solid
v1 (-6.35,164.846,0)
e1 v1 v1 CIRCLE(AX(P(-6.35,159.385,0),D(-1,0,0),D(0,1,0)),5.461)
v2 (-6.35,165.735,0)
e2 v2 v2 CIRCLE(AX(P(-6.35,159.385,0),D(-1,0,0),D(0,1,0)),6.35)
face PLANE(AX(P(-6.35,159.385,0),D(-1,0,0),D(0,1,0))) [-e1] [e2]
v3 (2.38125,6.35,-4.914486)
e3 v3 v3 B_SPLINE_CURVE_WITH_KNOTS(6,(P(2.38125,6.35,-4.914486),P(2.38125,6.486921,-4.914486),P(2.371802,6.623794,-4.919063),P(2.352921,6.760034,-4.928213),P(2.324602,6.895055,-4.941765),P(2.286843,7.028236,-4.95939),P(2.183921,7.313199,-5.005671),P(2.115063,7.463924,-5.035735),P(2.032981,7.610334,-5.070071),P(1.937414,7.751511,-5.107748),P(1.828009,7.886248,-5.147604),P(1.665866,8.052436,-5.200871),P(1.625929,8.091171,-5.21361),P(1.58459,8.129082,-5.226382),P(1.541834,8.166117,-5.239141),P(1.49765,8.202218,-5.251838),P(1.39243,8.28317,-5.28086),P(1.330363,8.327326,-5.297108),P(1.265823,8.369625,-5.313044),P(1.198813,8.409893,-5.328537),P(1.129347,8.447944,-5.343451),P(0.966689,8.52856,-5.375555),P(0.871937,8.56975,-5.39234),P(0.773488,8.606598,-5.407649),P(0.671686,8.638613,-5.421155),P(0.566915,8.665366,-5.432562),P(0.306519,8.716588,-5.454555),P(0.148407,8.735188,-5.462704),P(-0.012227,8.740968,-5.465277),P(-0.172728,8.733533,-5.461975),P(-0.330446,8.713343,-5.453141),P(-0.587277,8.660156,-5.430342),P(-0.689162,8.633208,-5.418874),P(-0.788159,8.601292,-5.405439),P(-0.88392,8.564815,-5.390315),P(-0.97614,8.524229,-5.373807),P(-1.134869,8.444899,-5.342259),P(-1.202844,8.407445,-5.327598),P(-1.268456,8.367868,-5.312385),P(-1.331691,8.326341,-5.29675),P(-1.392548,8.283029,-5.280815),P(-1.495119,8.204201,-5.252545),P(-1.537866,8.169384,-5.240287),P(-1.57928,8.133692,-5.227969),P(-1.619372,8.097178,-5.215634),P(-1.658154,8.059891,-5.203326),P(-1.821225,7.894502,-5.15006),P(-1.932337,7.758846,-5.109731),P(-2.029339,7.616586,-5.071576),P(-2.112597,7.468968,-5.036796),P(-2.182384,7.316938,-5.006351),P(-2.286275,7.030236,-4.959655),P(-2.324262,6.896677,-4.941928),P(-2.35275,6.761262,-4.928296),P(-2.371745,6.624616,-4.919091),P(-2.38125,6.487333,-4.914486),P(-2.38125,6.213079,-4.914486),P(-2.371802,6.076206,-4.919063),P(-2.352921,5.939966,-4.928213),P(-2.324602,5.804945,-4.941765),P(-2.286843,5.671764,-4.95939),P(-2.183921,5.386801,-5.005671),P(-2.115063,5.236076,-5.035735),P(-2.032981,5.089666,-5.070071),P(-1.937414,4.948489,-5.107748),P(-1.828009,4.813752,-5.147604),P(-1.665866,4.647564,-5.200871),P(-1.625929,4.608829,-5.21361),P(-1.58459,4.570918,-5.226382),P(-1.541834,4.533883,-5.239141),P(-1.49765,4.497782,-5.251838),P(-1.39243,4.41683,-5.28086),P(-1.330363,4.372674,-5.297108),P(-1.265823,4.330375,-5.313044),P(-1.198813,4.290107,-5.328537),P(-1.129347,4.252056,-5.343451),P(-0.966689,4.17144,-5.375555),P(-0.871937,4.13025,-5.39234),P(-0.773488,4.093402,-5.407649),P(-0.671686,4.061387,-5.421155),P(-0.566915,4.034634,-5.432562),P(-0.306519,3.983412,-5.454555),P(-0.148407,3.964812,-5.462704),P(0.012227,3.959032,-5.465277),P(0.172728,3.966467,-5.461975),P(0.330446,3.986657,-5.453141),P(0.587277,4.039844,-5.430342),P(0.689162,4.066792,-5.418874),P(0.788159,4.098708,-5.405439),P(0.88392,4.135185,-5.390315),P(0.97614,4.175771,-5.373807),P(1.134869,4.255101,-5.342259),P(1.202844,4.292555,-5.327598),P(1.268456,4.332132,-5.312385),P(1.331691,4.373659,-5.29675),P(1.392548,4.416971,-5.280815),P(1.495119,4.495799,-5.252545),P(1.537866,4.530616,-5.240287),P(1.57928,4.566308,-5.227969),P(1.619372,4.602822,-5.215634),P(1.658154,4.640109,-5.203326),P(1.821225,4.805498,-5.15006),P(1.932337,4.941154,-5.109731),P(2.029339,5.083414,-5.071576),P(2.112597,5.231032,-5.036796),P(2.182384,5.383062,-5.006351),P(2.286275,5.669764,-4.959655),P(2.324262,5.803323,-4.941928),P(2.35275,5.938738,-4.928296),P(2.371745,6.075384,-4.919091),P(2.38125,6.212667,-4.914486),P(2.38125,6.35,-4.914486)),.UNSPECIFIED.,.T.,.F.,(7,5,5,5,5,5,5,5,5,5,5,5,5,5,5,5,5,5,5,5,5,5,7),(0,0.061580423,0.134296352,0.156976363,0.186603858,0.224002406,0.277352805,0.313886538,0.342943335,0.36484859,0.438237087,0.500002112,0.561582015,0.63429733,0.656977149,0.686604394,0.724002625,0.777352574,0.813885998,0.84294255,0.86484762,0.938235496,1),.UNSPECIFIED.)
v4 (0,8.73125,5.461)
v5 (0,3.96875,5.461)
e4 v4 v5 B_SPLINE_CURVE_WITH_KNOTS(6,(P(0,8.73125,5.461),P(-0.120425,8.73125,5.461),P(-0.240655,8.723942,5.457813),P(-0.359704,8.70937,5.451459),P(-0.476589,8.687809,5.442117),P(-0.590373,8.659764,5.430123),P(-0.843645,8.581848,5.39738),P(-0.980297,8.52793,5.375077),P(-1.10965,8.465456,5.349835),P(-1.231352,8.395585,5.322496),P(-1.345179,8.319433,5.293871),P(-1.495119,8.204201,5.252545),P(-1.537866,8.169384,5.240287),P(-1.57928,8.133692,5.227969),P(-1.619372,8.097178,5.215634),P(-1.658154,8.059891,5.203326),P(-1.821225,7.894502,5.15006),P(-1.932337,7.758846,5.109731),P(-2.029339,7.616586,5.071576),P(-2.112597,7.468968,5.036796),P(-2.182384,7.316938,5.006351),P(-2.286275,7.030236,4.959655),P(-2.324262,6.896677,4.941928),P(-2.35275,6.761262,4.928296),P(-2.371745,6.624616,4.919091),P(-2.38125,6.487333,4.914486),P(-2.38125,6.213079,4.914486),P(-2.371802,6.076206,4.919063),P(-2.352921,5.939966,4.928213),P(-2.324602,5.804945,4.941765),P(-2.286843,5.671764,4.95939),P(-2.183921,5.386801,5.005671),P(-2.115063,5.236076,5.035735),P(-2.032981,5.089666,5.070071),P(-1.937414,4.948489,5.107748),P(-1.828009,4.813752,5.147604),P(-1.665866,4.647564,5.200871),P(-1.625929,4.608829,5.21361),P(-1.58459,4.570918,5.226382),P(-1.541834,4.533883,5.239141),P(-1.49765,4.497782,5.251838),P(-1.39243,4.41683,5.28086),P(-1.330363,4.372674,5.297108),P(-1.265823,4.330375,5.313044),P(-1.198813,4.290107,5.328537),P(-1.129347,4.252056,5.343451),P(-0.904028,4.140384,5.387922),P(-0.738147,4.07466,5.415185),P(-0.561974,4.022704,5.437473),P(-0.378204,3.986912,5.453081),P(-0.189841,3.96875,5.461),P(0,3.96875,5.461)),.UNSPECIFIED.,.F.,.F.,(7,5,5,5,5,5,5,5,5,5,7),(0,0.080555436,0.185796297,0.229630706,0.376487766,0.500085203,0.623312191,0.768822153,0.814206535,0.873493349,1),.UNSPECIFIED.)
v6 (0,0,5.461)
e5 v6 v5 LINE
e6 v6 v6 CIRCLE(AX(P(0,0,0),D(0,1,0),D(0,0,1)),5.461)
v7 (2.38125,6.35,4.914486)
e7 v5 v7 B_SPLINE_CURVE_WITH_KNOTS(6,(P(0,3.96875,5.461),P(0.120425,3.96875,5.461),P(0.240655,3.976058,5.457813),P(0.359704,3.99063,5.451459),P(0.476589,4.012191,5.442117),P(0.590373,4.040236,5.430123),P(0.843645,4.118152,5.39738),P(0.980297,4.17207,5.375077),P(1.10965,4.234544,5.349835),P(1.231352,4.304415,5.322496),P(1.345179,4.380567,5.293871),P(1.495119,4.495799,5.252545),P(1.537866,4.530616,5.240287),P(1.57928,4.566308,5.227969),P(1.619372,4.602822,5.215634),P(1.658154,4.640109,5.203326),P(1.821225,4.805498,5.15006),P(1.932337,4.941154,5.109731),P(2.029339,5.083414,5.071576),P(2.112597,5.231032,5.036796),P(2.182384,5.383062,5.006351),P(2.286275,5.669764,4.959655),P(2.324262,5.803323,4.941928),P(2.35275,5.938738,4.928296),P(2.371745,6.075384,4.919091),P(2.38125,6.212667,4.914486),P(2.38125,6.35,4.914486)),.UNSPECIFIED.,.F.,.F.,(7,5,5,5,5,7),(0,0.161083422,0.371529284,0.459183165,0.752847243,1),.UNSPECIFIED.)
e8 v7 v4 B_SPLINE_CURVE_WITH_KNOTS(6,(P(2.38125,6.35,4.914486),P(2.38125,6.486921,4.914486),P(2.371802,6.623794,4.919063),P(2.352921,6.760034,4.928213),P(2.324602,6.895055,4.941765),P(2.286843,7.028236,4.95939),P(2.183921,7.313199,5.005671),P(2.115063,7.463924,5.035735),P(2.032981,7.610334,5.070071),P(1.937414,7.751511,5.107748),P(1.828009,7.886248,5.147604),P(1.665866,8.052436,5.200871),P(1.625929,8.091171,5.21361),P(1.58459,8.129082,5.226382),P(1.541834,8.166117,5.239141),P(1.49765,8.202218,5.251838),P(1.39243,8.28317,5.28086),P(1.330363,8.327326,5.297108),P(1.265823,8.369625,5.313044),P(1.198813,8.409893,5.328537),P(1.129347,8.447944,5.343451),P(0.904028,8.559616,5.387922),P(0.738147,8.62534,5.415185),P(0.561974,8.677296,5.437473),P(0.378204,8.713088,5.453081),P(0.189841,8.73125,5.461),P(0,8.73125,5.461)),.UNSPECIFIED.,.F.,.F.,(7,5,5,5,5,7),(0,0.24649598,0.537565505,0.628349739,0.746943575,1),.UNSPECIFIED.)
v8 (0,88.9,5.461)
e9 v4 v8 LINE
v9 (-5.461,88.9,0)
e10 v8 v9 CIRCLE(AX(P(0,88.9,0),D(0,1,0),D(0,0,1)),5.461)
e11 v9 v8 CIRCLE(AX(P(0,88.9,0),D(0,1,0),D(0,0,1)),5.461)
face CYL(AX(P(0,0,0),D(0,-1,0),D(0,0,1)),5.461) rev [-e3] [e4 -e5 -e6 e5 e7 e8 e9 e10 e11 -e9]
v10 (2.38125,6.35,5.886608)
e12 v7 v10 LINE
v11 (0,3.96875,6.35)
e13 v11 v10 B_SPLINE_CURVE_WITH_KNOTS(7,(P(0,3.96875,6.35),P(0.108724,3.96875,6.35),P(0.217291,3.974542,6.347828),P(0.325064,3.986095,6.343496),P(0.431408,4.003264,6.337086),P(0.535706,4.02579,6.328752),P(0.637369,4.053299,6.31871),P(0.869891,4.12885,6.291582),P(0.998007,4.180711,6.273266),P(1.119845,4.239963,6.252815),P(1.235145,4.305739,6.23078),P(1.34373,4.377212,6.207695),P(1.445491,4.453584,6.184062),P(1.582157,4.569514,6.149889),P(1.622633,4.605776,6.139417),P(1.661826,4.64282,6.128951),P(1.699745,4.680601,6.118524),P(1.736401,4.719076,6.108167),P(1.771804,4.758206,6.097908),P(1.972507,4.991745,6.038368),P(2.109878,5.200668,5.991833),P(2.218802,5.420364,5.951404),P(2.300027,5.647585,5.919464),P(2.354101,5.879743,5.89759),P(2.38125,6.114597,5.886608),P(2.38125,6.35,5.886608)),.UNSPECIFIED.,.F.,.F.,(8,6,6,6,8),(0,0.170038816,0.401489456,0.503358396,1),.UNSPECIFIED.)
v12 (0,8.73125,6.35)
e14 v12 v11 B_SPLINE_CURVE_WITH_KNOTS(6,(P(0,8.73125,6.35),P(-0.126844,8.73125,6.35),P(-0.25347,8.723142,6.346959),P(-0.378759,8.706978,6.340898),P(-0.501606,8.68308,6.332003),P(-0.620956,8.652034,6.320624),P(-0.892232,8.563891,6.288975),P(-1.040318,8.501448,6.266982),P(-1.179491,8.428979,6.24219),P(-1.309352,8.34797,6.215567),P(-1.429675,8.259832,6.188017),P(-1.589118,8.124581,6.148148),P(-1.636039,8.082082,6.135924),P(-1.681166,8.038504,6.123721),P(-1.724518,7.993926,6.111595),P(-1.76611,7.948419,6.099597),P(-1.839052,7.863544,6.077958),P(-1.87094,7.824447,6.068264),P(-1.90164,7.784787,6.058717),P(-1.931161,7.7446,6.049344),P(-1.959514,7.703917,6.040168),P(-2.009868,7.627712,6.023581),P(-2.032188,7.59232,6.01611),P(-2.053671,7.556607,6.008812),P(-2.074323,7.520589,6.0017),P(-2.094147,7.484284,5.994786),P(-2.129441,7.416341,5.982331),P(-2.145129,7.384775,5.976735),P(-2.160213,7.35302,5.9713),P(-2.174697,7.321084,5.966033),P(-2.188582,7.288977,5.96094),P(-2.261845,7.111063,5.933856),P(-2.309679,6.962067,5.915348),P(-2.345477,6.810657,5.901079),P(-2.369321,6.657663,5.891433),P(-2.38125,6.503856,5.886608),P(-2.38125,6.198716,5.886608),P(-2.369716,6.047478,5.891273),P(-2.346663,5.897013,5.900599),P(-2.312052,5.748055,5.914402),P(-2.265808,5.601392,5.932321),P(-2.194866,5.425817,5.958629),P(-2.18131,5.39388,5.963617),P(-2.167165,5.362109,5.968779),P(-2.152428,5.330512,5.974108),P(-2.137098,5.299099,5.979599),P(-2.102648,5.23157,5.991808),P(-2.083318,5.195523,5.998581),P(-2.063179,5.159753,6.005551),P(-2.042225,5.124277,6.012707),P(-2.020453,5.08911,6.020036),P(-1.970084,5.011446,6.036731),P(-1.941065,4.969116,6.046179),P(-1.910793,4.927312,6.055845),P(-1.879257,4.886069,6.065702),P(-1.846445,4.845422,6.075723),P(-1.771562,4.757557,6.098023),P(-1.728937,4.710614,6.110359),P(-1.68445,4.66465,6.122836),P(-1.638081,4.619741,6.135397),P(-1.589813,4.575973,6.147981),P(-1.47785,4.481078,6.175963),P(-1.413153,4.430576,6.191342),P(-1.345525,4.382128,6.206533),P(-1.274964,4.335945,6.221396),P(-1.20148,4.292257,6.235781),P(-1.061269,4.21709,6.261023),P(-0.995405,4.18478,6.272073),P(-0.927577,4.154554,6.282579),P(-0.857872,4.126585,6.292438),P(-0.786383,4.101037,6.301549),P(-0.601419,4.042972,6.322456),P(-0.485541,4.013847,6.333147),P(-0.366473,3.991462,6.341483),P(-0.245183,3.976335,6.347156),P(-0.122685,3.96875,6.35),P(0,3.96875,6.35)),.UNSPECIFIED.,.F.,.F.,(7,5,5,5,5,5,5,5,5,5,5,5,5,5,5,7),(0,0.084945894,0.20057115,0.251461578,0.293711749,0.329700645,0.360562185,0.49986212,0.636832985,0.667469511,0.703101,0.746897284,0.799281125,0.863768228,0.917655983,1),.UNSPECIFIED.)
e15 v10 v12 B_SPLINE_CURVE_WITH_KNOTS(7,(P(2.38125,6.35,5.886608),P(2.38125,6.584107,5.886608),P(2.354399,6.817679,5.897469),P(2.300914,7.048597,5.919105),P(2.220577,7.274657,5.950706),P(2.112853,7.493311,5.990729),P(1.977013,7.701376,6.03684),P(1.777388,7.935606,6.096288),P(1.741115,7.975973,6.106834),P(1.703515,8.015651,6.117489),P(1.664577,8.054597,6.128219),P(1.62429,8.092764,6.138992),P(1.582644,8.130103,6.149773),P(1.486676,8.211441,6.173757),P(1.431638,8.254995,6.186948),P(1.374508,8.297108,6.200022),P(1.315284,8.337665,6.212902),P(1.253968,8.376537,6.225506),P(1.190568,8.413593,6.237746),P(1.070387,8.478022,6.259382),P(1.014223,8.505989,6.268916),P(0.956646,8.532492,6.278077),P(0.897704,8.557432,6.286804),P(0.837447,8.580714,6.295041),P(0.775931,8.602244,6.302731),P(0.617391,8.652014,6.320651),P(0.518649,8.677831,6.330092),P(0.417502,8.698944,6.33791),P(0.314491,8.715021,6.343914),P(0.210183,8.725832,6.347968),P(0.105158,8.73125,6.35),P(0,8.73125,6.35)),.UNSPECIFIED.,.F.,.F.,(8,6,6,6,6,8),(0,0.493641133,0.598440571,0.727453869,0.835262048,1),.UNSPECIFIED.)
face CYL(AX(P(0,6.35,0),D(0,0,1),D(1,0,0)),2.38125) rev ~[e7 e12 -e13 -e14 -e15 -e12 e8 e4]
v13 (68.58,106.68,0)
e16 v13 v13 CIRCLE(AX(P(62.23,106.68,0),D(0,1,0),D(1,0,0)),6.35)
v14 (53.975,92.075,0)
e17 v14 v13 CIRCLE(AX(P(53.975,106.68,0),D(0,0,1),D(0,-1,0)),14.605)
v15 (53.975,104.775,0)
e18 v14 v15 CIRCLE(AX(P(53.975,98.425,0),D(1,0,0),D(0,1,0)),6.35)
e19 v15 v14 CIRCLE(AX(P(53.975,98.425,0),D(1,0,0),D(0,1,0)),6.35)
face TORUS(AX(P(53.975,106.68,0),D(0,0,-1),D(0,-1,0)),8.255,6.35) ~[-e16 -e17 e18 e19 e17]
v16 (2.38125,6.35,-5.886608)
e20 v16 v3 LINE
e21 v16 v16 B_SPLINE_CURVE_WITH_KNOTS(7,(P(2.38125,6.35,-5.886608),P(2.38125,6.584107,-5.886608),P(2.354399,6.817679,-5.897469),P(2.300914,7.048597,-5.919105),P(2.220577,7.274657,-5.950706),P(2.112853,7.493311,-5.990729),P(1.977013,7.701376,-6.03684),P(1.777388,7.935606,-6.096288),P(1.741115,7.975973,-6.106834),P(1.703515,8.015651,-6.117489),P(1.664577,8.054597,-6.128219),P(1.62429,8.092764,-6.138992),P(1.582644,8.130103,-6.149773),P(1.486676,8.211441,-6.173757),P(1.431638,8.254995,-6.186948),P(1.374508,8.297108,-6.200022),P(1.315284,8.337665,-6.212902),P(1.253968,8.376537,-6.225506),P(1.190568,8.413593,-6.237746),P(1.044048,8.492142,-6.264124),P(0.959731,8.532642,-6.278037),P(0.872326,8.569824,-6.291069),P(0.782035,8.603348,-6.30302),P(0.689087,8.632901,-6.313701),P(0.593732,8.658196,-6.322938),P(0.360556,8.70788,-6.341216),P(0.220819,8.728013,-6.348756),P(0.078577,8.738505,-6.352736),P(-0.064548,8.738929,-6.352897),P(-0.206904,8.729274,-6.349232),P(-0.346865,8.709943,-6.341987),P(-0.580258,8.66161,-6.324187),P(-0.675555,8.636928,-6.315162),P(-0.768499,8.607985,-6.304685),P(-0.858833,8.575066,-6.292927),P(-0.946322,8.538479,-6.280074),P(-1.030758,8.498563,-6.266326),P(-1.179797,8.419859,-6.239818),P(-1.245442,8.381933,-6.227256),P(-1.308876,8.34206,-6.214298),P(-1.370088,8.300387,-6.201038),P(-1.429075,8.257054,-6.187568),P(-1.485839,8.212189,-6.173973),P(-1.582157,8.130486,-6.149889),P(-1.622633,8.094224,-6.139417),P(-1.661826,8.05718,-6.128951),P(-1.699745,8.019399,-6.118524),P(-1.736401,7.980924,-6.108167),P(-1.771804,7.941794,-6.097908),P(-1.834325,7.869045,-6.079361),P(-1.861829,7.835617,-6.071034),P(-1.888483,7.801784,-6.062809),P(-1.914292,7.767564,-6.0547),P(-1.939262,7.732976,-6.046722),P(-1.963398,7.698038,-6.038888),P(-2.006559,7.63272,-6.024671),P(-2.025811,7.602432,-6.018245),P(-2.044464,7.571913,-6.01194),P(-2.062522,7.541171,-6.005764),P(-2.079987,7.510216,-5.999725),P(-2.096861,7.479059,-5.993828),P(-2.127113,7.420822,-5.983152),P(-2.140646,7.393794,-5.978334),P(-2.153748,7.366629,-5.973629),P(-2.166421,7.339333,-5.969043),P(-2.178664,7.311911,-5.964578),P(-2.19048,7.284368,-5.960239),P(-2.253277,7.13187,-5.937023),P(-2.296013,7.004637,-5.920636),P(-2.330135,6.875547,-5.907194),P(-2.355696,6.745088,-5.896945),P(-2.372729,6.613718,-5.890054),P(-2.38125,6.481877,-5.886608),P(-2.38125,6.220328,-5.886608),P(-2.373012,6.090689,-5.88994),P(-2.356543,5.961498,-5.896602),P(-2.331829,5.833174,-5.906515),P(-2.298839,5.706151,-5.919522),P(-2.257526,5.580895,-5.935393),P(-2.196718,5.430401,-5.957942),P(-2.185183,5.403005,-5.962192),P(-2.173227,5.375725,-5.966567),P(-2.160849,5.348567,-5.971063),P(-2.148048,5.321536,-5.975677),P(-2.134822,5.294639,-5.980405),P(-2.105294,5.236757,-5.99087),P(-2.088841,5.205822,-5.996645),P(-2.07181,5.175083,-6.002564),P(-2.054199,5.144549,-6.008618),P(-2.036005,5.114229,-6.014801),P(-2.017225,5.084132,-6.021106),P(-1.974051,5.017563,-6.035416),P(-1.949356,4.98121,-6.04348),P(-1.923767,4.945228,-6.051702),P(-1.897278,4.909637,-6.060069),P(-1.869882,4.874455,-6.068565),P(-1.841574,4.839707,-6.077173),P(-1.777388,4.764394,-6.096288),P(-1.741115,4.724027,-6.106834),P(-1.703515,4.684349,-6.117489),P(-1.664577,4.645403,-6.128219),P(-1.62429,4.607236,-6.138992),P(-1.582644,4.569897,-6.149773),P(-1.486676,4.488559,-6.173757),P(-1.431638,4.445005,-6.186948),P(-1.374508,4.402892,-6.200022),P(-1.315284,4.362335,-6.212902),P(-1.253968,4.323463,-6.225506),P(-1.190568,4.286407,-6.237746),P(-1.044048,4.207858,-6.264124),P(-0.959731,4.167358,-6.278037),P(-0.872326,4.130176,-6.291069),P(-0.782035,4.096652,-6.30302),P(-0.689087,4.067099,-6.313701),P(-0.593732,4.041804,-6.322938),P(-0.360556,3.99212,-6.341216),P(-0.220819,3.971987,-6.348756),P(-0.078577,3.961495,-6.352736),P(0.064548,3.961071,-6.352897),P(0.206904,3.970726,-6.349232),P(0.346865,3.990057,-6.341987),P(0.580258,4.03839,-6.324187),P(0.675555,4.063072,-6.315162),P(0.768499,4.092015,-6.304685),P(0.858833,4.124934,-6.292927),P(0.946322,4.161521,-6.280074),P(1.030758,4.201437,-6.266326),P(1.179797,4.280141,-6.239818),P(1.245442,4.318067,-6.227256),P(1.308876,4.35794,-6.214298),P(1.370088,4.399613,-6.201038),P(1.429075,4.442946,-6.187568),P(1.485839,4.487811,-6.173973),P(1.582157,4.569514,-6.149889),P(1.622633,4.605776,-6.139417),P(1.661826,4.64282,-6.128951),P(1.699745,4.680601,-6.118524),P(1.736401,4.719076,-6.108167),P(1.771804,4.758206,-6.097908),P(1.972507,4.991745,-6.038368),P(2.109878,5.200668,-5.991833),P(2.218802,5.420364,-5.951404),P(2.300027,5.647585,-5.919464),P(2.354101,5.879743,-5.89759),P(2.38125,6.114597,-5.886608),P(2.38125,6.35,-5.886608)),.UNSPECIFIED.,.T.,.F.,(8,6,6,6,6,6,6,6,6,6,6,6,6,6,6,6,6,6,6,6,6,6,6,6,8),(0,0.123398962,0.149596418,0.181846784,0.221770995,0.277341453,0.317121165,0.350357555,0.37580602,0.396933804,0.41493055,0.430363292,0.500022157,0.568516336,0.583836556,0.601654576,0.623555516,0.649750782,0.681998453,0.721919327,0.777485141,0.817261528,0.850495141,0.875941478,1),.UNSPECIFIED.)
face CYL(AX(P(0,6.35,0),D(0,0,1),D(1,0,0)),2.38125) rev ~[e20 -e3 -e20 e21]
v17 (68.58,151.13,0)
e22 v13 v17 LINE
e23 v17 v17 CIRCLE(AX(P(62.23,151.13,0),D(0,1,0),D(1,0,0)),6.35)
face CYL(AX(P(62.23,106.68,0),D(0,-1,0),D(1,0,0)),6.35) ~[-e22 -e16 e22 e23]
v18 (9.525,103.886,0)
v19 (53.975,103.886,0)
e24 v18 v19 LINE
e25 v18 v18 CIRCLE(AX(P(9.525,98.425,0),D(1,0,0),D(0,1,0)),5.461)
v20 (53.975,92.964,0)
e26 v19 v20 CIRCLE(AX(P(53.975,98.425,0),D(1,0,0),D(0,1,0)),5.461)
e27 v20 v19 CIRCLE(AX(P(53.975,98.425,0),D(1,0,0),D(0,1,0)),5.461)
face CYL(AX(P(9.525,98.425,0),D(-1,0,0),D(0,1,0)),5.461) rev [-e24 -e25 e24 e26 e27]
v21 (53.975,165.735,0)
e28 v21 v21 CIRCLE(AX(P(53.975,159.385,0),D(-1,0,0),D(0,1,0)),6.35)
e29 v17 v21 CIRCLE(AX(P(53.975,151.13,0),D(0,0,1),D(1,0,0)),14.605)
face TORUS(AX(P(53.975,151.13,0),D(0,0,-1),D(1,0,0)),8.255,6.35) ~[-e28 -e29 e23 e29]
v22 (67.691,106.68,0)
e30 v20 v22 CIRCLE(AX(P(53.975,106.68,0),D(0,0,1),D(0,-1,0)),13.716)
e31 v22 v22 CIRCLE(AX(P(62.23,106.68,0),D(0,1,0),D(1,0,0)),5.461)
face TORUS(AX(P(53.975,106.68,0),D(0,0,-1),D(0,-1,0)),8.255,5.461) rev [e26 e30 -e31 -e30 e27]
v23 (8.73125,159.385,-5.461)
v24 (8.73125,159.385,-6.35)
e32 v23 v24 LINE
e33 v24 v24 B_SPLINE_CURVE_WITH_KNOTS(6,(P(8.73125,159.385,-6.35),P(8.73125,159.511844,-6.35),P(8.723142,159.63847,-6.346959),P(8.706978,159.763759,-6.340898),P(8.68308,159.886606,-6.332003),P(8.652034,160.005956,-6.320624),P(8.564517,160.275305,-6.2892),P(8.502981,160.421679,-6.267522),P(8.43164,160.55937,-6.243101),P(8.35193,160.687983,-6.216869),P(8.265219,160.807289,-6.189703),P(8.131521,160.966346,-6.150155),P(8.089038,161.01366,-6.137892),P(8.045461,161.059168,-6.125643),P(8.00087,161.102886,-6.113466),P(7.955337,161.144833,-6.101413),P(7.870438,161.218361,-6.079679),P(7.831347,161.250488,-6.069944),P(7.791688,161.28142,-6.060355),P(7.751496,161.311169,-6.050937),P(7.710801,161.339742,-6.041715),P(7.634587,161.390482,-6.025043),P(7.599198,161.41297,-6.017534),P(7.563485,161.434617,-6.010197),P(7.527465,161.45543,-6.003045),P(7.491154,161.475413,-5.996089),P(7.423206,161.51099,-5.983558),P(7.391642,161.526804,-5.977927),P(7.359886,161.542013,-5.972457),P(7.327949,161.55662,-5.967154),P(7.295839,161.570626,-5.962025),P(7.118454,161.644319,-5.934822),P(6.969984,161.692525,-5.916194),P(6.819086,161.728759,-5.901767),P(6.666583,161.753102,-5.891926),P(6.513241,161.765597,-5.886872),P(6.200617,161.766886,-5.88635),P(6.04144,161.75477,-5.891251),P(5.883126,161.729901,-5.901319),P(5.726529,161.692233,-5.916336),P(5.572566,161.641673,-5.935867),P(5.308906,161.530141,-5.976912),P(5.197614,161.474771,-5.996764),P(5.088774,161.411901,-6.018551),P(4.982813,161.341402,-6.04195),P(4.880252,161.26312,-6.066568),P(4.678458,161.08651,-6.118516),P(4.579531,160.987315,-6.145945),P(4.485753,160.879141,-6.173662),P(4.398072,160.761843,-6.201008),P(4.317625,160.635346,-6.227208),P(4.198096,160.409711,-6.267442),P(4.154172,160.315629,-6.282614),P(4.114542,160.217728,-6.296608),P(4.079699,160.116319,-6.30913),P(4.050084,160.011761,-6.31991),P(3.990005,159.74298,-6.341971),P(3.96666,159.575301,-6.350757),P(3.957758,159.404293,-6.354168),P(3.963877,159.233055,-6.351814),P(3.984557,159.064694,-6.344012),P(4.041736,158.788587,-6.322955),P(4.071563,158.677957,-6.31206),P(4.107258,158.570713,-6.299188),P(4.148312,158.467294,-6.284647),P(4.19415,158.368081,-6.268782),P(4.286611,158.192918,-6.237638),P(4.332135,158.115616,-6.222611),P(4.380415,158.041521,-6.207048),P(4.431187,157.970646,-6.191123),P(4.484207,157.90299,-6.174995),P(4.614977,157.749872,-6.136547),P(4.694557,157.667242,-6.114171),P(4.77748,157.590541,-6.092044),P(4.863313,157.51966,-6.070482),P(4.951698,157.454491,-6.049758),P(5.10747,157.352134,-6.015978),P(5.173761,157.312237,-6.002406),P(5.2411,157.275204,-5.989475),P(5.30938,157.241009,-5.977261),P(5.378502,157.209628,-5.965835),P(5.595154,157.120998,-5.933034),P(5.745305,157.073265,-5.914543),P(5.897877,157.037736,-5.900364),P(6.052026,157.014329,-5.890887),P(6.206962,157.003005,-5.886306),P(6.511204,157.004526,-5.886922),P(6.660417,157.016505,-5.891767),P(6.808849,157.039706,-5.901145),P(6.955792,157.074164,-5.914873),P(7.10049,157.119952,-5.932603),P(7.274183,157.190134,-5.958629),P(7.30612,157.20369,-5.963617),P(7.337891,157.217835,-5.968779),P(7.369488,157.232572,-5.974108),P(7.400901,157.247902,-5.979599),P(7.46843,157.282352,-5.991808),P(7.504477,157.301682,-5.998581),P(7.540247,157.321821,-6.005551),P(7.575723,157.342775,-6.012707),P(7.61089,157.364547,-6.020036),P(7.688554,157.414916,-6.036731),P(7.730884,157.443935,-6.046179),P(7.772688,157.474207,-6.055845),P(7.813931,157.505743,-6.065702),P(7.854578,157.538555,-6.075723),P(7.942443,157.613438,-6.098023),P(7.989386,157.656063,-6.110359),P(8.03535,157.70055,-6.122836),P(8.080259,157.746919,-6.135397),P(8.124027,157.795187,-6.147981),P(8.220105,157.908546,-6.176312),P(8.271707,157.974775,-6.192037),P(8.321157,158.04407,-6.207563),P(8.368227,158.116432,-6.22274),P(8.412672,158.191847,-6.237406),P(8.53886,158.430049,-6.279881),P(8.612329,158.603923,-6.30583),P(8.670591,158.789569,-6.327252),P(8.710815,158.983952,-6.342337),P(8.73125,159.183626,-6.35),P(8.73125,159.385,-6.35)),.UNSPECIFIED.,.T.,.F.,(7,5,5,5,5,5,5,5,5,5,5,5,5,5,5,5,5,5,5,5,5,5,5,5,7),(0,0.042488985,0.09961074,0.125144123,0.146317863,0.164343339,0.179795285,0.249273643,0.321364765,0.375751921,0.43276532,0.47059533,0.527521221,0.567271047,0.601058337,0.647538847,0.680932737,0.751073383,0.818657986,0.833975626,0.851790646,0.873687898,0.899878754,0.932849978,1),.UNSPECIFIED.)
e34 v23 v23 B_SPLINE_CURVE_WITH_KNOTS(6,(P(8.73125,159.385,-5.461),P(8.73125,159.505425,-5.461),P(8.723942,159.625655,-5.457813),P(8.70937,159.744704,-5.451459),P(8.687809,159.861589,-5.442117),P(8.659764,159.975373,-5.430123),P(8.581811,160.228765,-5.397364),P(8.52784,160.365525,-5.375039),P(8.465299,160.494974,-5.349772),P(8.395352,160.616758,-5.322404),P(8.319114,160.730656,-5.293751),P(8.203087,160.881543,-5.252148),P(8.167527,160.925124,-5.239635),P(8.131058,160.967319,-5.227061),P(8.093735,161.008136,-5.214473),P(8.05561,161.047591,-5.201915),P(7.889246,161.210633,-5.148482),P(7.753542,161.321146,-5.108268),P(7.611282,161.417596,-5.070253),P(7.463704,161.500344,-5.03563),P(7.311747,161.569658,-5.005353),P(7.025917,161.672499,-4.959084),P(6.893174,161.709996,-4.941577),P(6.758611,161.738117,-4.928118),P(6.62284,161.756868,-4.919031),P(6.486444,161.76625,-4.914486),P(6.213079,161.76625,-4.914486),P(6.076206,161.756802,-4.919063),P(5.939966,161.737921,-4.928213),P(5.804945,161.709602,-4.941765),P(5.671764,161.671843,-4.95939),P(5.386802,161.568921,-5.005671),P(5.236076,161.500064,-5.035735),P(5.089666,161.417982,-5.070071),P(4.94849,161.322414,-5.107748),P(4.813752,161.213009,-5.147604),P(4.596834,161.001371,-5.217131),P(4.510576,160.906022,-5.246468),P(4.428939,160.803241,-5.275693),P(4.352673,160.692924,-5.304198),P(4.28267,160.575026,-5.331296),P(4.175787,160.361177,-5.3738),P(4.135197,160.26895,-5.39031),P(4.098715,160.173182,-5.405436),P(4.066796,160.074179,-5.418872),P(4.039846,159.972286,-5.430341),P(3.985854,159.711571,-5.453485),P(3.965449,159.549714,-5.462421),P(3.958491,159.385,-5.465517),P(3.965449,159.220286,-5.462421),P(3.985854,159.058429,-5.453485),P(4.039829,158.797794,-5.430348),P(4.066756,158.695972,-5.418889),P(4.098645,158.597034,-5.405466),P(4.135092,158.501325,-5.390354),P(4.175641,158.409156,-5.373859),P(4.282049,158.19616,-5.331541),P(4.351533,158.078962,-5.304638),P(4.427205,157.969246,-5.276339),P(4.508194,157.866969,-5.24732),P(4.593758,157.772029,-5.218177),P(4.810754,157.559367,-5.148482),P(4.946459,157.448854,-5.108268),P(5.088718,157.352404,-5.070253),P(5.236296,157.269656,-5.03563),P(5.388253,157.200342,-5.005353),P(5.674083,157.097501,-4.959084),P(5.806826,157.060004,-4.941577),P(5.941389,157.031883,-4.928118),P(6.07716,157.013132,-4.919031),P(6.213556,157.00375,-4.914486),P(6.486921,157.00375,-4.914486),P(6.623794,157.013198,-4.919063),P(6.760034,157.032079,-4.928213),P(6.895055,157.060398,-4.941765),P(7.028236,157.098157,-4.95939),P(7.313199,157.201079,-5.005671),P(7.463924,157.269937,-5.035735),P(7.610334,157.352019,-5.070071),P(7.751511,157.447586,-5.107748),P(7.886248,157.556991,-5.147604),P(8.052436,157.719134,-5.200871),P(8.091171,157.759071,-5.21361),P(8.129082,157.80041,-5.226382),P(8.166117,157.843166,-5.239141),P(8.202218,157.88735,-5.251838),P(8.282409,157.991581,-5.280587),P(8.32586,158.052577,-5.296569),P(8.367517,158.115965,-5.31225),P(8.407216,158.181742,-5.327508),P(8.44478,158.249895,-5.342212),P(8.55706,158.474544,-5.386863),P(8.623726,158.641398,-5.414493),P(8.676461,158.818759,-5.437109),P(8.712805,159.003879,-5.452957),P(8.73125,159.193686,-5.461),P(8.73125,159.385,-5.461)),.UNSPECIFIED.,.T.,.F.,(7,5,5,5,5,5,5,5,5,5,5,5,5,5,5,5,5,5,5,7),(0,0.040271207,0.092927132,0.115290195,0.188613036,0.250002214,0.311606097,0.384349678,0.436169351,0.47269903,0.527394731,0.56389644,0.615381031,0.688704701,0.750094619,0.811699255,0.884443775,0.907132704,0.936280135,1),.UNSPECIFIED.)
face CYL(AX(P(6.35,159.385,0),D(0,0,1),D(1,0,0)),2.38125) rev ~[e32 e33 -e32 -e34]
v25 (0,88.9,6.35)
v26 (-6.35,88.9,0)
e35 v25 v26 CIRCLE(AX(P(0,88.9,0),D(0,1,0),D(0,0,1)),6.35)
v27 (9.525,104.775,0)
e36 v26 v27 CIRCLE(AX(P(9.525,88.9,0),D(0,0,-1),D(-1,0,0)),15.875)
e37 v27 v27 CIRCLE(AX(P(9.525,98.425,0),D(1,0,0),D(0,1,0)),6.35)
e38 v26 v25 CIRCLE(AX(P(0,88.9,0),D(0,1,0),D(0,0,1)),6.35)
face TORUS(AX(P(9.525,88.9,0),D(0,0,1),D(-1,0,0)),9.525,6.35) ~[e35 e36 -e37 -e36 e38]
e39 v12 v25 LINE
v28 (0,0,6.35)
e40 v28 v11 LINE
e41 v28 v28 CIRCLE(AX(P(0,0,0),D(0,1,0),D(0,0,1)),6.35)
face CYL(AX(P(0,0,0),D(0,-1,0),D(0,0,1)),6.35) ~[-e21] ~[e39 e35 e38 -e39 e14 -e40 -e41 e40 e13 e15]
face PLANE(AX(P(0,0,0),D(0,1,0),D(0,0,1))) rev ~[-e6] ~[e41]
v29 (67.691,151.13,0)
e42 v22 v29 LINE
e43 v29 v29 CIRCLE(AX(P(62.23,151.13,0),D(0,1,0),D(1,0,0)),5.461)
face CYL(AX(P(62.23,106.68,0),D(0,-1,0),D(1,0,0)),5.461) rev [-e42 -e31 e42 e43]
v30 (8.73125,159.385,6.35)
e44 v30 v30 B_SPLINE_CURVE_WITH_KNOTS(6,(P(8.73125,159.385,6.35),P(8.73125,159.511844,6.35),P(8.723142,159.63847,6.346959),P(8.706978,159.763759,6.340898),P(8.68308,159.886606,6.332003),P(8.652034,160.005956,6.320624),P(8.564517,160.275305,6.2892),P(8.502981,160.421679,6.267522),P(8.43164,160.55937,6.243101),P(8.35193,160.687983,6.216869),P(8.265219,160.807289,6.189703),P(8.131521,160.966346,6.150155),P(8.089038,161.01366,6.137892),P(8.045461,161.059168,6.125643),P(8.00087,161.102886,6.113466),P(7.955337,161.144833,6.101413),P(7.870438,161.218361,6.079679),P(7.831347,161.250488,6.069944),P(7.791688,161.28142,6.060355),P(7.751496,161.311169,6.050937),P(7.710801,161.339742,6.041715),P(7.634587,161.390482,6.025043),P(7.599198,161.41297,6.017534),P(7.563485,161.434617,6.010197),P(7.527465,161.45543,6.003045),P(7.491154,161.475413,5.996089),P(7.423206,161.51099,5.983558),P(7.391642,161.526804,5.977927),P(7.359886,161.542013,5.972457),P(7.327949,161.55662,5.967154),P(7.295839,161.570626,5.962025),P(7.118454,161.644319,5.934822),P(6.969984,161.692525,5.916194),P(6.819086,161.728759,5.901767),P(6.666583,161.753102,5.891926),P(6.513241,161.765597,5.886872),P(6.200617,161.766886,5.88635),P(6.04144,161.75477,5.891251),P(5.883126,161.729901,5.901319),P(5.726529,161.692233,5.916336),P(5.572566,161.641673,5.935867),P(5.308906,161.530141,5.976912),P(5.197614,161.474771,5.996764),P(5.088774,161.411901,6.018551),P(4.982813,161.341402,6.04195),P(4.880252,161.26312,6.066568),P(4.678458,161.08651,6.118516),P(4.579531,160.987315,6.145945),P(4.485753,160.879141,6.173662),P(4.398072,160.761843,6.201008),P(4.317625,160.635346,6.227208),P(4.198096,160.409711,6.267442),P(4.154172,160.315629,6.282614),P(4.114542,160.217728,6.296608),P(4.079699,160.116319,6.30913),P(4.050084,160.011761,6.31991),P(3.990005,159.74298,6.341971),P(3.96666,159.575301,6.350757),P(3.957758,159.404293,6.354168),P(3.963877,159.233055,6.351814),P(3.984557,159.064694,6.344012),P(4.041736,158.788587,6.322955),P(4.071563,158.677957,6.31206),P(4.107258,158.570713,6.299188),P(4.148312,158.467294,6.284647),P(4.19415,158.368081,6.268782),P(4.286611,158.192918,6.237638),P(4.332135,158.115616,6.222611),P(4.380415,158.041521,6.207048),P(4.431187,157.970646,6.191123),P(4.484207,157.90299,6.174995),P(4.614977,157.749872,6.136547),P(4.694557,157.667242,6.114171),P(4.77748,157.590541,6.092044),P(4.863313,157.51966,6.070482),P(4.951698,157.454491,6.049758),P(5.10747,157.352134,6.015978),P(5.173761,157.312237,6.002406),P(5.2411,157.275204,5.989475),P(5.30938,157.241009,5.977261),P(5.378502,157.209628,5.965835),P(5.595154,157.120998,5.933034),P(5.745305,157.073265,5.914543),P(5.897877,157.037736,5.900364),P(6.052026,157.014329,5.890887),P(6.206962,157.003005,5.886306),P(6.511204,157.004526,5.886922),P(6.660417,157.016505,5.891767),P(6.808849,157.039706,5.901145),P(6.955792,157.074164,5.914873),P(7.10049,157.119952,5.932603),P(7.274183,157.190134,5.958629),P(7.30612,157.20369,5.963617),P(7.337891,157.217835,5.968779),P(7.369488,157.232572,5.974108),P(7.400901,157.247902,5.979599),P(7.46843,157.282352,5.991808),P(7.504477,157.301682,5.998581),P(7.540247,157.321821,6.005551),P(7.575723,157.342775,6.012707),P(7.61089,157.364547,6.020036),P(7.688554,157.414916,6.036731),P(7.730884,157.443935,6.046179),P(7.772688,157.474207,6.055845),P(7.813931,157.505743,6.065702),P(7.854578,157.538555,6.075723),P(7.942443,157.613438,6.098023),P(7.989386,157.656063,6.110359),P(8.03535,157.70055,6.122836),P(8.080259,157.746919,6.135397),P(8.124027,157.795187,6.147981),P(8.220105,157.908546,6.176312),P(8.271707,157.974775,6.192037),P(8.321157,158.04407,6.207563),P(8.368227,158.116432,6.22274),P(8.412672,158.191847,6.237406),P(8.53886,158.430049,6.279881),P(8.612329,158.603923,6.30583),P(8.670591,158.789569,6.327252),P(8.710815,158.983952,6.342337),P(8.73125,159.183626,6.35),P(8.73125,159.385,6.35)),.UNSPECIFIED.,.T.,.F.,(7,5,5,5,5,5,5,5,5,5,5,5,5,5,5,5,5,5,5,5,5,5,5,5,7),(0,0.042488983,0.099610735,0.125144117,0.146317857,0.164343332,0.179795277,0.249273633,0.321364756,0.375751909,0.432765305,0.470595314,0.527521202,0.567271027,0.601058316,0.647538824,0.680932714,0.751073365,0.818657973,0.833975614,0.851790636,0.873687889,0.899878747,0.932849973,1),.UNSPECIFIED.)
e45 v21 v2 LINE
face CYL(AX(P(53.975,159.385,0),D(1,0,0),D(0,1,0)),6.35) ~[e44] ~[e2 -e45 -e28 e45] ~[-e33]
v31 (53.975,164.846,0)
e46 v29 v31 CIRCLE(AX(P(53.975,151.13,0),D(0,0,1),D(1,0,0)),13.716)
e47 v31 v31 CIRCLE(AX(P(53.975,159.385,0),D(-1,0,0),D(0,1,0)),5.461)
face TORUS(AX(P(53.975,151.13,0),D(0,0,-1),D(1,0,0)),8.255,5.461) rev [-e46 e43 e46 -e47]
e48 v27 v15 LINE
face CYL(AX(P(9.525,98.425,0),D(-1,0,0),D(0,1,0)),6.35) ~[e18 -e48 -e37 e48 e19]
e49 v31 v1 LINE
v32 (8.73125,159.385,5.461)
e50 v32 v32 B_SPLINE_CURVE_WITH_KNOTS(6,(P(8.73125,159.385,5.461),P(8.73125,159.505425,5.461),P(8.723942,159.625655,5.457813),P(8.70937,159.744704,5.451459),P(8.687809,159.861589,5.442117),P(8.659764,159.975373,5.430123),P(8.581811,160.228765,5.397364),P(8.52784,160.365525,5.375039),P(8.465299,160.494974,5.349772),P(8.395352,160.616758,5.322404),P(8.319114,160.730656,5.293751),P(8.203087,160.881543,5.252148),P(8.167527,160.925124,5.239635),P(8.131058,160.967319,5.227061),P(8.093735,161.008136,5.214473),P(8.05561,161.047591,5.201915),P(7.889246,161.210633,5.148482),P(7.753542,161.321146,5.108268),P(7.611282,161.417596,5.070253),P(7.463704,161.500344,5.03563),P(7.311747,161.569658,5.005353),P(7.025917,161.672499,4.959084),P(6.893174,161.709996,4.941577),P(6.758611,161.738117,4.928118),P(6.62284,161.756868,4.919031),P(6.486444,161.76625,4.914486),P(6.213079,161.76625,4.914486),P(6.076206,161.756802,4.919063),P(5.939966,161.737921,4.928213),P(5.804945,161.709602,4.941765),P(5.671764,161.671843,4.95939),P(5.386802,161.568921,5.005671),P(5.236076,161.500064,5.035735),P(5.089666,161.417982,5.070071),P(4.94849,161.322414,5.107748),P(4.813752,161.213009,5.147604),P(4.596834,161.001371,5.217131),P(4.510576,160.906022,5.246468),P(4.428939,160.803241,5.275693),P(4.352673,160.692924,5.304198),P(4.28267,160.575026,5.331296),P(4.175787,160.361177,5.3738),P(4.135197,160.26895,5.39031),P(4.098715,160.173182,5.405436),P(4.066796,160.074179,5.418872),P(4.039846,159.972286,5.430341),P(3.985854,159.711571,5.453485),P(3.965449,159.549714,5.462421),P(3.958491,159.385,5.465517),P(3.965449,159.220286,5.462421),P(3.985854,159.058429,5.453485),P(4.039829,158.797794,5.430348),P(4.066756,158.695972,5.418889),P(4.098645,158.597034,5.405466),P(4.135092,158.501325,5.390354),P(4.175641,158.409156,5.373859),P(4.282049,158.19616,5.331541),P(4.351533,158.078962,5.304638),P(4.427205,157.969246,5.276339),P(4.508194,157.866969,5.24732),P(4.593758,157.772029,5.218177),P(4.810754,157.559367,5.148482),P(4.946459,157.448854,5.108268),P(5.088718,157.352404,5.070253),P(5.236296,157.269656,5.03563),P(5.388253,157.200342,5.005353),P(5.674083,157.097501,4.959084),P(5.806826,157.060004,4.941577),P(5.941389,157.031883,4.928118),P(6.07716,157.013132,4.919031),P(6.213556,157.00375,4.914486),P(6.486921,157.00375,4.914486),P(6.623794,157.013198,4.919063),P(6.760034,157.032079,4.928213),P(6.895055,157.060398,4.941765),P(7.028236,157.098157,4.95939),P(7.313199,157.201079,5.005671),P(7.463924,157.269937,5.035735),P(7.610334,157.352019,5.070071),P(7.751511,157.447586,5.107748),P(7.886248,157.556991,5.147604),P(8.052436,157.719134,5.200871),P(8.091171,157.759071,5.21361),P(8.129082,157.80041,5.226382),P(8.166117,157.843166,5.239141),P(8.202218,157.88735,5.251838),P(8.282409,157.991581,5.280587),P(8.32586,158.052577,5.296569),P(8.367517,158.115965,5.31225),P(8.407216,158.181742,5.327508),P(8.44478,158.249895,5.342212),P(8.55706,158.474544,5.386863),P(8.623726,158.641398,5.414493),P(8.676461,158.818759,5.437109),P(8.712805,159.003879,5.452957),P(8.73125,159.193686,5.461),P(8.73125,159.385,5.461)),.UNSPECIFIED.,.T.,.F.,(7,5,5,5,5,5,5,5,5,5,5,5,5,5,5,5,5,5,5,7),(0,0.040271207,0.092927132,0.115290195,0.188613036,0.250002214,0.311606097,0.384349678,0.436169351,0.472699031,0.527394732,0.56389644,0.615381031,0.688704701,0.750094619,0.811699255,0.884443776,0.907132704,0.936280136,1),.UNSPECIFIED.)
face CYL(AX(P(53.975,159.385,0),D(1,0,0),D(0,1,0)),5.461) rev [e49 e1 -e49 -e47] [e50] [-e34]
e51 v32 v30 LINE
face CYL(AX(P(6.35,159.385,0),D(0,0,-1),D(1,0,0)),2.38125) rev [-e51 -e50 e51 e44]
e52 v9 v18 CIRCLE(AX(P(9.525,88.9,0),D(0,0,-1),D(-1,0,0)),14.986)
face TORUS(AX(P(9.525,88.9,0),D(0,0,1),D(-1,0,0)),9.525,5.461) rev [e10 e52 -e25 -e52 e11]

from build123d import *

# Parameters (mm, degrees)
SKETCH1_R           = 6.35
SKETCH1_R_2         = 5.461
BOSS_EXTRUDE1_DEPTH = 88.9
SKETCH5_R           = 6.35
SKETCH5_R_2         = 5.461
REVOLVE2_ANGLE      = 90
SKETCH7_R           = 6.35
SKETCH7_R_2         = 5.461
BOSS_EXTRUDE2_DEPTH = 44.45
SKETCH8_R           = 6.35
SKETCH8_R_2         = 5.461
REVOLVE3_ANGLE      = 90
SKETCH10_R          = 6.35
SKETCH10_R_2        = 5.461
BOSS_EXTRUDE3_DEPTH = 44.45
SKETCH11_R          = 6.35
SKETCH11_R_2        = 5.461
REVOLVE4_ANGLE      = 90
SKETCH13_R          = 6.35
SKETCH13_R_2        = 5.461
BOSS_EXTRUDE4_DEPTH = 60.325
SKETCH14_R          = 2.38125
CUT_EXTRUDE3_DEPTH  = 12.7


with BuildPart() as part:
    # Sketch1 → Boss-Extrude1 (new body)
    with BuildSketch(Plane(origin=(0, 0, 0), x_dir=(1, 0, 0), z_dir=(0, 1, 0))):
        with Locations(Location((0, 0, 0), (0, 0, 270))):
            Circle(SKETCH1_R)
        with Locations(Location((0, 0, 0), (0, 0, 270))):
            Circle(SKETCH1_R_2, mode=Mode.SUBTRACT)
    extrude(amount=BOSS_EXTRUDE1_DEPTH)

    # Sketch5 → Revolve2 (revolve)
    with BuildSketch(Plane(origin=(0, 88.9, 0), x_dir=(1, 0, 0), z_dir=(0, 1, 0))):
        with Locations(Location((0, 0, 0), (0, 0, 180))):
            Circle(SKETCH5_R)
        with Locations(Location((0, 0, 0), (0, 0, 180))):
            Circle(SKETCH5_R_2, mode=Mode.SUBTRACT)
    revolve(axis=Axis((9.525, 88.9, -7.49087288), (0, 0, -1)), revolution_arc=REVOLVE2_ANGLE)

    # Sketch7 → Boss-Extrude2 (add)
    with BuildSketch(Plane(origin=(9.525, 0, 0), x_dir=(0, 0, -1), z_dir=(1, 0, 0))):
        with Locations(Location((0, 98.425, 0), (0, 0, 90))):
            Circle(SKETCH7_R)
        with Locations(Location((0, 98.425, 0), (0, 0, 90))):
            Circle(SKETCH7_R_2, mode=Mode.SUBTRACT)
    extrude(amount=BOSS_EXTRUDE2_DEPTH)

    # Sketch8 → Revolve3 (revolve)
    with BuildSketch(Plane(origin=(53.975, 0, 0), x_dir=(0, 0, -1), z_dir=(1, 0, 0))):
        with Locations(Location((0, 98.425, 0), (0, 0, 270))):
            Circle(SKETCH8_R)
        with Locations(Location((0, 98.425, 0), (0, 0, 270))):
            Circle(SKETCH8_R_2, mode=Mode.SUBTRACT)
    revolve(axis=Axis((53.975, 106.68, 10.204207494), (0, 0, 1)), revolution_arc=REVOLVE3_ANGLE)

    # Sketch10 → Boss-Extrude3 (add)
    with BuildSketch(Plane(origin=(0, 106.68, 0), x_dir=(1, 0, 0), z_dir=(0, 1, 0))):
        with Locations((62.23, 0)):
            Circle(SKETCH10_R)
        with Locations((62.23, 0)):
            Circle(SKETCH10_R_2, mode=Mode.SUBTRACT)
    extrude(amount=BOSS_EXTRUDE3_DEPTH)

    # Sketch11 → Revolve4 (revolve)
    with BuildSketch(Plane(origin=(0, 151.13, 0), x_dir=(1, 0, 0), z_dir=(0, 1, 0))):
        with Locations((62.23, 0)):
            Circle(SKETCH11_R)
        with Locations((62.23, 0)):
            Circle(SKETCH11_R_2, mode=Mode.SUBTRACT)
    revolve(axis=Axis((53.975, 151.13, -10.204207494), (0, 0, 1)), revolution_arc=REVOLVE4_ANGLE)

    # Sketch13 → Boss-Extrude4 (add)
    with BuildSketch(Plane.ZY.offset(-53.975)):
        with Locations(Location((0, 159.385, 0), (0, 0, 90))):
            Circle(SKETCH13_R)
        with Locations(Location((0, 159.385, 0), (0, 0, 90))):
            Circle(SKETCH13_R_2, mode=Mode.SUBTRACT)
    extrude(amount=BOSS_EXTRUDE4_DEPTH)

    # Sketch14 → Cut-Extrude3 (cut, symmetric)
    with BuildSketch(Plane.XY):
        with Locations((6.35, 159.385)):
            Circle(SKETCH14_R)
        with Locations((0, 6.35)):
            Circle(SKETCH14_R)
    extrude(amount=CUT_EXTRUDE3_DEPTH, both=True, mode=Mode.SUBTRACT)


solid = part.part
